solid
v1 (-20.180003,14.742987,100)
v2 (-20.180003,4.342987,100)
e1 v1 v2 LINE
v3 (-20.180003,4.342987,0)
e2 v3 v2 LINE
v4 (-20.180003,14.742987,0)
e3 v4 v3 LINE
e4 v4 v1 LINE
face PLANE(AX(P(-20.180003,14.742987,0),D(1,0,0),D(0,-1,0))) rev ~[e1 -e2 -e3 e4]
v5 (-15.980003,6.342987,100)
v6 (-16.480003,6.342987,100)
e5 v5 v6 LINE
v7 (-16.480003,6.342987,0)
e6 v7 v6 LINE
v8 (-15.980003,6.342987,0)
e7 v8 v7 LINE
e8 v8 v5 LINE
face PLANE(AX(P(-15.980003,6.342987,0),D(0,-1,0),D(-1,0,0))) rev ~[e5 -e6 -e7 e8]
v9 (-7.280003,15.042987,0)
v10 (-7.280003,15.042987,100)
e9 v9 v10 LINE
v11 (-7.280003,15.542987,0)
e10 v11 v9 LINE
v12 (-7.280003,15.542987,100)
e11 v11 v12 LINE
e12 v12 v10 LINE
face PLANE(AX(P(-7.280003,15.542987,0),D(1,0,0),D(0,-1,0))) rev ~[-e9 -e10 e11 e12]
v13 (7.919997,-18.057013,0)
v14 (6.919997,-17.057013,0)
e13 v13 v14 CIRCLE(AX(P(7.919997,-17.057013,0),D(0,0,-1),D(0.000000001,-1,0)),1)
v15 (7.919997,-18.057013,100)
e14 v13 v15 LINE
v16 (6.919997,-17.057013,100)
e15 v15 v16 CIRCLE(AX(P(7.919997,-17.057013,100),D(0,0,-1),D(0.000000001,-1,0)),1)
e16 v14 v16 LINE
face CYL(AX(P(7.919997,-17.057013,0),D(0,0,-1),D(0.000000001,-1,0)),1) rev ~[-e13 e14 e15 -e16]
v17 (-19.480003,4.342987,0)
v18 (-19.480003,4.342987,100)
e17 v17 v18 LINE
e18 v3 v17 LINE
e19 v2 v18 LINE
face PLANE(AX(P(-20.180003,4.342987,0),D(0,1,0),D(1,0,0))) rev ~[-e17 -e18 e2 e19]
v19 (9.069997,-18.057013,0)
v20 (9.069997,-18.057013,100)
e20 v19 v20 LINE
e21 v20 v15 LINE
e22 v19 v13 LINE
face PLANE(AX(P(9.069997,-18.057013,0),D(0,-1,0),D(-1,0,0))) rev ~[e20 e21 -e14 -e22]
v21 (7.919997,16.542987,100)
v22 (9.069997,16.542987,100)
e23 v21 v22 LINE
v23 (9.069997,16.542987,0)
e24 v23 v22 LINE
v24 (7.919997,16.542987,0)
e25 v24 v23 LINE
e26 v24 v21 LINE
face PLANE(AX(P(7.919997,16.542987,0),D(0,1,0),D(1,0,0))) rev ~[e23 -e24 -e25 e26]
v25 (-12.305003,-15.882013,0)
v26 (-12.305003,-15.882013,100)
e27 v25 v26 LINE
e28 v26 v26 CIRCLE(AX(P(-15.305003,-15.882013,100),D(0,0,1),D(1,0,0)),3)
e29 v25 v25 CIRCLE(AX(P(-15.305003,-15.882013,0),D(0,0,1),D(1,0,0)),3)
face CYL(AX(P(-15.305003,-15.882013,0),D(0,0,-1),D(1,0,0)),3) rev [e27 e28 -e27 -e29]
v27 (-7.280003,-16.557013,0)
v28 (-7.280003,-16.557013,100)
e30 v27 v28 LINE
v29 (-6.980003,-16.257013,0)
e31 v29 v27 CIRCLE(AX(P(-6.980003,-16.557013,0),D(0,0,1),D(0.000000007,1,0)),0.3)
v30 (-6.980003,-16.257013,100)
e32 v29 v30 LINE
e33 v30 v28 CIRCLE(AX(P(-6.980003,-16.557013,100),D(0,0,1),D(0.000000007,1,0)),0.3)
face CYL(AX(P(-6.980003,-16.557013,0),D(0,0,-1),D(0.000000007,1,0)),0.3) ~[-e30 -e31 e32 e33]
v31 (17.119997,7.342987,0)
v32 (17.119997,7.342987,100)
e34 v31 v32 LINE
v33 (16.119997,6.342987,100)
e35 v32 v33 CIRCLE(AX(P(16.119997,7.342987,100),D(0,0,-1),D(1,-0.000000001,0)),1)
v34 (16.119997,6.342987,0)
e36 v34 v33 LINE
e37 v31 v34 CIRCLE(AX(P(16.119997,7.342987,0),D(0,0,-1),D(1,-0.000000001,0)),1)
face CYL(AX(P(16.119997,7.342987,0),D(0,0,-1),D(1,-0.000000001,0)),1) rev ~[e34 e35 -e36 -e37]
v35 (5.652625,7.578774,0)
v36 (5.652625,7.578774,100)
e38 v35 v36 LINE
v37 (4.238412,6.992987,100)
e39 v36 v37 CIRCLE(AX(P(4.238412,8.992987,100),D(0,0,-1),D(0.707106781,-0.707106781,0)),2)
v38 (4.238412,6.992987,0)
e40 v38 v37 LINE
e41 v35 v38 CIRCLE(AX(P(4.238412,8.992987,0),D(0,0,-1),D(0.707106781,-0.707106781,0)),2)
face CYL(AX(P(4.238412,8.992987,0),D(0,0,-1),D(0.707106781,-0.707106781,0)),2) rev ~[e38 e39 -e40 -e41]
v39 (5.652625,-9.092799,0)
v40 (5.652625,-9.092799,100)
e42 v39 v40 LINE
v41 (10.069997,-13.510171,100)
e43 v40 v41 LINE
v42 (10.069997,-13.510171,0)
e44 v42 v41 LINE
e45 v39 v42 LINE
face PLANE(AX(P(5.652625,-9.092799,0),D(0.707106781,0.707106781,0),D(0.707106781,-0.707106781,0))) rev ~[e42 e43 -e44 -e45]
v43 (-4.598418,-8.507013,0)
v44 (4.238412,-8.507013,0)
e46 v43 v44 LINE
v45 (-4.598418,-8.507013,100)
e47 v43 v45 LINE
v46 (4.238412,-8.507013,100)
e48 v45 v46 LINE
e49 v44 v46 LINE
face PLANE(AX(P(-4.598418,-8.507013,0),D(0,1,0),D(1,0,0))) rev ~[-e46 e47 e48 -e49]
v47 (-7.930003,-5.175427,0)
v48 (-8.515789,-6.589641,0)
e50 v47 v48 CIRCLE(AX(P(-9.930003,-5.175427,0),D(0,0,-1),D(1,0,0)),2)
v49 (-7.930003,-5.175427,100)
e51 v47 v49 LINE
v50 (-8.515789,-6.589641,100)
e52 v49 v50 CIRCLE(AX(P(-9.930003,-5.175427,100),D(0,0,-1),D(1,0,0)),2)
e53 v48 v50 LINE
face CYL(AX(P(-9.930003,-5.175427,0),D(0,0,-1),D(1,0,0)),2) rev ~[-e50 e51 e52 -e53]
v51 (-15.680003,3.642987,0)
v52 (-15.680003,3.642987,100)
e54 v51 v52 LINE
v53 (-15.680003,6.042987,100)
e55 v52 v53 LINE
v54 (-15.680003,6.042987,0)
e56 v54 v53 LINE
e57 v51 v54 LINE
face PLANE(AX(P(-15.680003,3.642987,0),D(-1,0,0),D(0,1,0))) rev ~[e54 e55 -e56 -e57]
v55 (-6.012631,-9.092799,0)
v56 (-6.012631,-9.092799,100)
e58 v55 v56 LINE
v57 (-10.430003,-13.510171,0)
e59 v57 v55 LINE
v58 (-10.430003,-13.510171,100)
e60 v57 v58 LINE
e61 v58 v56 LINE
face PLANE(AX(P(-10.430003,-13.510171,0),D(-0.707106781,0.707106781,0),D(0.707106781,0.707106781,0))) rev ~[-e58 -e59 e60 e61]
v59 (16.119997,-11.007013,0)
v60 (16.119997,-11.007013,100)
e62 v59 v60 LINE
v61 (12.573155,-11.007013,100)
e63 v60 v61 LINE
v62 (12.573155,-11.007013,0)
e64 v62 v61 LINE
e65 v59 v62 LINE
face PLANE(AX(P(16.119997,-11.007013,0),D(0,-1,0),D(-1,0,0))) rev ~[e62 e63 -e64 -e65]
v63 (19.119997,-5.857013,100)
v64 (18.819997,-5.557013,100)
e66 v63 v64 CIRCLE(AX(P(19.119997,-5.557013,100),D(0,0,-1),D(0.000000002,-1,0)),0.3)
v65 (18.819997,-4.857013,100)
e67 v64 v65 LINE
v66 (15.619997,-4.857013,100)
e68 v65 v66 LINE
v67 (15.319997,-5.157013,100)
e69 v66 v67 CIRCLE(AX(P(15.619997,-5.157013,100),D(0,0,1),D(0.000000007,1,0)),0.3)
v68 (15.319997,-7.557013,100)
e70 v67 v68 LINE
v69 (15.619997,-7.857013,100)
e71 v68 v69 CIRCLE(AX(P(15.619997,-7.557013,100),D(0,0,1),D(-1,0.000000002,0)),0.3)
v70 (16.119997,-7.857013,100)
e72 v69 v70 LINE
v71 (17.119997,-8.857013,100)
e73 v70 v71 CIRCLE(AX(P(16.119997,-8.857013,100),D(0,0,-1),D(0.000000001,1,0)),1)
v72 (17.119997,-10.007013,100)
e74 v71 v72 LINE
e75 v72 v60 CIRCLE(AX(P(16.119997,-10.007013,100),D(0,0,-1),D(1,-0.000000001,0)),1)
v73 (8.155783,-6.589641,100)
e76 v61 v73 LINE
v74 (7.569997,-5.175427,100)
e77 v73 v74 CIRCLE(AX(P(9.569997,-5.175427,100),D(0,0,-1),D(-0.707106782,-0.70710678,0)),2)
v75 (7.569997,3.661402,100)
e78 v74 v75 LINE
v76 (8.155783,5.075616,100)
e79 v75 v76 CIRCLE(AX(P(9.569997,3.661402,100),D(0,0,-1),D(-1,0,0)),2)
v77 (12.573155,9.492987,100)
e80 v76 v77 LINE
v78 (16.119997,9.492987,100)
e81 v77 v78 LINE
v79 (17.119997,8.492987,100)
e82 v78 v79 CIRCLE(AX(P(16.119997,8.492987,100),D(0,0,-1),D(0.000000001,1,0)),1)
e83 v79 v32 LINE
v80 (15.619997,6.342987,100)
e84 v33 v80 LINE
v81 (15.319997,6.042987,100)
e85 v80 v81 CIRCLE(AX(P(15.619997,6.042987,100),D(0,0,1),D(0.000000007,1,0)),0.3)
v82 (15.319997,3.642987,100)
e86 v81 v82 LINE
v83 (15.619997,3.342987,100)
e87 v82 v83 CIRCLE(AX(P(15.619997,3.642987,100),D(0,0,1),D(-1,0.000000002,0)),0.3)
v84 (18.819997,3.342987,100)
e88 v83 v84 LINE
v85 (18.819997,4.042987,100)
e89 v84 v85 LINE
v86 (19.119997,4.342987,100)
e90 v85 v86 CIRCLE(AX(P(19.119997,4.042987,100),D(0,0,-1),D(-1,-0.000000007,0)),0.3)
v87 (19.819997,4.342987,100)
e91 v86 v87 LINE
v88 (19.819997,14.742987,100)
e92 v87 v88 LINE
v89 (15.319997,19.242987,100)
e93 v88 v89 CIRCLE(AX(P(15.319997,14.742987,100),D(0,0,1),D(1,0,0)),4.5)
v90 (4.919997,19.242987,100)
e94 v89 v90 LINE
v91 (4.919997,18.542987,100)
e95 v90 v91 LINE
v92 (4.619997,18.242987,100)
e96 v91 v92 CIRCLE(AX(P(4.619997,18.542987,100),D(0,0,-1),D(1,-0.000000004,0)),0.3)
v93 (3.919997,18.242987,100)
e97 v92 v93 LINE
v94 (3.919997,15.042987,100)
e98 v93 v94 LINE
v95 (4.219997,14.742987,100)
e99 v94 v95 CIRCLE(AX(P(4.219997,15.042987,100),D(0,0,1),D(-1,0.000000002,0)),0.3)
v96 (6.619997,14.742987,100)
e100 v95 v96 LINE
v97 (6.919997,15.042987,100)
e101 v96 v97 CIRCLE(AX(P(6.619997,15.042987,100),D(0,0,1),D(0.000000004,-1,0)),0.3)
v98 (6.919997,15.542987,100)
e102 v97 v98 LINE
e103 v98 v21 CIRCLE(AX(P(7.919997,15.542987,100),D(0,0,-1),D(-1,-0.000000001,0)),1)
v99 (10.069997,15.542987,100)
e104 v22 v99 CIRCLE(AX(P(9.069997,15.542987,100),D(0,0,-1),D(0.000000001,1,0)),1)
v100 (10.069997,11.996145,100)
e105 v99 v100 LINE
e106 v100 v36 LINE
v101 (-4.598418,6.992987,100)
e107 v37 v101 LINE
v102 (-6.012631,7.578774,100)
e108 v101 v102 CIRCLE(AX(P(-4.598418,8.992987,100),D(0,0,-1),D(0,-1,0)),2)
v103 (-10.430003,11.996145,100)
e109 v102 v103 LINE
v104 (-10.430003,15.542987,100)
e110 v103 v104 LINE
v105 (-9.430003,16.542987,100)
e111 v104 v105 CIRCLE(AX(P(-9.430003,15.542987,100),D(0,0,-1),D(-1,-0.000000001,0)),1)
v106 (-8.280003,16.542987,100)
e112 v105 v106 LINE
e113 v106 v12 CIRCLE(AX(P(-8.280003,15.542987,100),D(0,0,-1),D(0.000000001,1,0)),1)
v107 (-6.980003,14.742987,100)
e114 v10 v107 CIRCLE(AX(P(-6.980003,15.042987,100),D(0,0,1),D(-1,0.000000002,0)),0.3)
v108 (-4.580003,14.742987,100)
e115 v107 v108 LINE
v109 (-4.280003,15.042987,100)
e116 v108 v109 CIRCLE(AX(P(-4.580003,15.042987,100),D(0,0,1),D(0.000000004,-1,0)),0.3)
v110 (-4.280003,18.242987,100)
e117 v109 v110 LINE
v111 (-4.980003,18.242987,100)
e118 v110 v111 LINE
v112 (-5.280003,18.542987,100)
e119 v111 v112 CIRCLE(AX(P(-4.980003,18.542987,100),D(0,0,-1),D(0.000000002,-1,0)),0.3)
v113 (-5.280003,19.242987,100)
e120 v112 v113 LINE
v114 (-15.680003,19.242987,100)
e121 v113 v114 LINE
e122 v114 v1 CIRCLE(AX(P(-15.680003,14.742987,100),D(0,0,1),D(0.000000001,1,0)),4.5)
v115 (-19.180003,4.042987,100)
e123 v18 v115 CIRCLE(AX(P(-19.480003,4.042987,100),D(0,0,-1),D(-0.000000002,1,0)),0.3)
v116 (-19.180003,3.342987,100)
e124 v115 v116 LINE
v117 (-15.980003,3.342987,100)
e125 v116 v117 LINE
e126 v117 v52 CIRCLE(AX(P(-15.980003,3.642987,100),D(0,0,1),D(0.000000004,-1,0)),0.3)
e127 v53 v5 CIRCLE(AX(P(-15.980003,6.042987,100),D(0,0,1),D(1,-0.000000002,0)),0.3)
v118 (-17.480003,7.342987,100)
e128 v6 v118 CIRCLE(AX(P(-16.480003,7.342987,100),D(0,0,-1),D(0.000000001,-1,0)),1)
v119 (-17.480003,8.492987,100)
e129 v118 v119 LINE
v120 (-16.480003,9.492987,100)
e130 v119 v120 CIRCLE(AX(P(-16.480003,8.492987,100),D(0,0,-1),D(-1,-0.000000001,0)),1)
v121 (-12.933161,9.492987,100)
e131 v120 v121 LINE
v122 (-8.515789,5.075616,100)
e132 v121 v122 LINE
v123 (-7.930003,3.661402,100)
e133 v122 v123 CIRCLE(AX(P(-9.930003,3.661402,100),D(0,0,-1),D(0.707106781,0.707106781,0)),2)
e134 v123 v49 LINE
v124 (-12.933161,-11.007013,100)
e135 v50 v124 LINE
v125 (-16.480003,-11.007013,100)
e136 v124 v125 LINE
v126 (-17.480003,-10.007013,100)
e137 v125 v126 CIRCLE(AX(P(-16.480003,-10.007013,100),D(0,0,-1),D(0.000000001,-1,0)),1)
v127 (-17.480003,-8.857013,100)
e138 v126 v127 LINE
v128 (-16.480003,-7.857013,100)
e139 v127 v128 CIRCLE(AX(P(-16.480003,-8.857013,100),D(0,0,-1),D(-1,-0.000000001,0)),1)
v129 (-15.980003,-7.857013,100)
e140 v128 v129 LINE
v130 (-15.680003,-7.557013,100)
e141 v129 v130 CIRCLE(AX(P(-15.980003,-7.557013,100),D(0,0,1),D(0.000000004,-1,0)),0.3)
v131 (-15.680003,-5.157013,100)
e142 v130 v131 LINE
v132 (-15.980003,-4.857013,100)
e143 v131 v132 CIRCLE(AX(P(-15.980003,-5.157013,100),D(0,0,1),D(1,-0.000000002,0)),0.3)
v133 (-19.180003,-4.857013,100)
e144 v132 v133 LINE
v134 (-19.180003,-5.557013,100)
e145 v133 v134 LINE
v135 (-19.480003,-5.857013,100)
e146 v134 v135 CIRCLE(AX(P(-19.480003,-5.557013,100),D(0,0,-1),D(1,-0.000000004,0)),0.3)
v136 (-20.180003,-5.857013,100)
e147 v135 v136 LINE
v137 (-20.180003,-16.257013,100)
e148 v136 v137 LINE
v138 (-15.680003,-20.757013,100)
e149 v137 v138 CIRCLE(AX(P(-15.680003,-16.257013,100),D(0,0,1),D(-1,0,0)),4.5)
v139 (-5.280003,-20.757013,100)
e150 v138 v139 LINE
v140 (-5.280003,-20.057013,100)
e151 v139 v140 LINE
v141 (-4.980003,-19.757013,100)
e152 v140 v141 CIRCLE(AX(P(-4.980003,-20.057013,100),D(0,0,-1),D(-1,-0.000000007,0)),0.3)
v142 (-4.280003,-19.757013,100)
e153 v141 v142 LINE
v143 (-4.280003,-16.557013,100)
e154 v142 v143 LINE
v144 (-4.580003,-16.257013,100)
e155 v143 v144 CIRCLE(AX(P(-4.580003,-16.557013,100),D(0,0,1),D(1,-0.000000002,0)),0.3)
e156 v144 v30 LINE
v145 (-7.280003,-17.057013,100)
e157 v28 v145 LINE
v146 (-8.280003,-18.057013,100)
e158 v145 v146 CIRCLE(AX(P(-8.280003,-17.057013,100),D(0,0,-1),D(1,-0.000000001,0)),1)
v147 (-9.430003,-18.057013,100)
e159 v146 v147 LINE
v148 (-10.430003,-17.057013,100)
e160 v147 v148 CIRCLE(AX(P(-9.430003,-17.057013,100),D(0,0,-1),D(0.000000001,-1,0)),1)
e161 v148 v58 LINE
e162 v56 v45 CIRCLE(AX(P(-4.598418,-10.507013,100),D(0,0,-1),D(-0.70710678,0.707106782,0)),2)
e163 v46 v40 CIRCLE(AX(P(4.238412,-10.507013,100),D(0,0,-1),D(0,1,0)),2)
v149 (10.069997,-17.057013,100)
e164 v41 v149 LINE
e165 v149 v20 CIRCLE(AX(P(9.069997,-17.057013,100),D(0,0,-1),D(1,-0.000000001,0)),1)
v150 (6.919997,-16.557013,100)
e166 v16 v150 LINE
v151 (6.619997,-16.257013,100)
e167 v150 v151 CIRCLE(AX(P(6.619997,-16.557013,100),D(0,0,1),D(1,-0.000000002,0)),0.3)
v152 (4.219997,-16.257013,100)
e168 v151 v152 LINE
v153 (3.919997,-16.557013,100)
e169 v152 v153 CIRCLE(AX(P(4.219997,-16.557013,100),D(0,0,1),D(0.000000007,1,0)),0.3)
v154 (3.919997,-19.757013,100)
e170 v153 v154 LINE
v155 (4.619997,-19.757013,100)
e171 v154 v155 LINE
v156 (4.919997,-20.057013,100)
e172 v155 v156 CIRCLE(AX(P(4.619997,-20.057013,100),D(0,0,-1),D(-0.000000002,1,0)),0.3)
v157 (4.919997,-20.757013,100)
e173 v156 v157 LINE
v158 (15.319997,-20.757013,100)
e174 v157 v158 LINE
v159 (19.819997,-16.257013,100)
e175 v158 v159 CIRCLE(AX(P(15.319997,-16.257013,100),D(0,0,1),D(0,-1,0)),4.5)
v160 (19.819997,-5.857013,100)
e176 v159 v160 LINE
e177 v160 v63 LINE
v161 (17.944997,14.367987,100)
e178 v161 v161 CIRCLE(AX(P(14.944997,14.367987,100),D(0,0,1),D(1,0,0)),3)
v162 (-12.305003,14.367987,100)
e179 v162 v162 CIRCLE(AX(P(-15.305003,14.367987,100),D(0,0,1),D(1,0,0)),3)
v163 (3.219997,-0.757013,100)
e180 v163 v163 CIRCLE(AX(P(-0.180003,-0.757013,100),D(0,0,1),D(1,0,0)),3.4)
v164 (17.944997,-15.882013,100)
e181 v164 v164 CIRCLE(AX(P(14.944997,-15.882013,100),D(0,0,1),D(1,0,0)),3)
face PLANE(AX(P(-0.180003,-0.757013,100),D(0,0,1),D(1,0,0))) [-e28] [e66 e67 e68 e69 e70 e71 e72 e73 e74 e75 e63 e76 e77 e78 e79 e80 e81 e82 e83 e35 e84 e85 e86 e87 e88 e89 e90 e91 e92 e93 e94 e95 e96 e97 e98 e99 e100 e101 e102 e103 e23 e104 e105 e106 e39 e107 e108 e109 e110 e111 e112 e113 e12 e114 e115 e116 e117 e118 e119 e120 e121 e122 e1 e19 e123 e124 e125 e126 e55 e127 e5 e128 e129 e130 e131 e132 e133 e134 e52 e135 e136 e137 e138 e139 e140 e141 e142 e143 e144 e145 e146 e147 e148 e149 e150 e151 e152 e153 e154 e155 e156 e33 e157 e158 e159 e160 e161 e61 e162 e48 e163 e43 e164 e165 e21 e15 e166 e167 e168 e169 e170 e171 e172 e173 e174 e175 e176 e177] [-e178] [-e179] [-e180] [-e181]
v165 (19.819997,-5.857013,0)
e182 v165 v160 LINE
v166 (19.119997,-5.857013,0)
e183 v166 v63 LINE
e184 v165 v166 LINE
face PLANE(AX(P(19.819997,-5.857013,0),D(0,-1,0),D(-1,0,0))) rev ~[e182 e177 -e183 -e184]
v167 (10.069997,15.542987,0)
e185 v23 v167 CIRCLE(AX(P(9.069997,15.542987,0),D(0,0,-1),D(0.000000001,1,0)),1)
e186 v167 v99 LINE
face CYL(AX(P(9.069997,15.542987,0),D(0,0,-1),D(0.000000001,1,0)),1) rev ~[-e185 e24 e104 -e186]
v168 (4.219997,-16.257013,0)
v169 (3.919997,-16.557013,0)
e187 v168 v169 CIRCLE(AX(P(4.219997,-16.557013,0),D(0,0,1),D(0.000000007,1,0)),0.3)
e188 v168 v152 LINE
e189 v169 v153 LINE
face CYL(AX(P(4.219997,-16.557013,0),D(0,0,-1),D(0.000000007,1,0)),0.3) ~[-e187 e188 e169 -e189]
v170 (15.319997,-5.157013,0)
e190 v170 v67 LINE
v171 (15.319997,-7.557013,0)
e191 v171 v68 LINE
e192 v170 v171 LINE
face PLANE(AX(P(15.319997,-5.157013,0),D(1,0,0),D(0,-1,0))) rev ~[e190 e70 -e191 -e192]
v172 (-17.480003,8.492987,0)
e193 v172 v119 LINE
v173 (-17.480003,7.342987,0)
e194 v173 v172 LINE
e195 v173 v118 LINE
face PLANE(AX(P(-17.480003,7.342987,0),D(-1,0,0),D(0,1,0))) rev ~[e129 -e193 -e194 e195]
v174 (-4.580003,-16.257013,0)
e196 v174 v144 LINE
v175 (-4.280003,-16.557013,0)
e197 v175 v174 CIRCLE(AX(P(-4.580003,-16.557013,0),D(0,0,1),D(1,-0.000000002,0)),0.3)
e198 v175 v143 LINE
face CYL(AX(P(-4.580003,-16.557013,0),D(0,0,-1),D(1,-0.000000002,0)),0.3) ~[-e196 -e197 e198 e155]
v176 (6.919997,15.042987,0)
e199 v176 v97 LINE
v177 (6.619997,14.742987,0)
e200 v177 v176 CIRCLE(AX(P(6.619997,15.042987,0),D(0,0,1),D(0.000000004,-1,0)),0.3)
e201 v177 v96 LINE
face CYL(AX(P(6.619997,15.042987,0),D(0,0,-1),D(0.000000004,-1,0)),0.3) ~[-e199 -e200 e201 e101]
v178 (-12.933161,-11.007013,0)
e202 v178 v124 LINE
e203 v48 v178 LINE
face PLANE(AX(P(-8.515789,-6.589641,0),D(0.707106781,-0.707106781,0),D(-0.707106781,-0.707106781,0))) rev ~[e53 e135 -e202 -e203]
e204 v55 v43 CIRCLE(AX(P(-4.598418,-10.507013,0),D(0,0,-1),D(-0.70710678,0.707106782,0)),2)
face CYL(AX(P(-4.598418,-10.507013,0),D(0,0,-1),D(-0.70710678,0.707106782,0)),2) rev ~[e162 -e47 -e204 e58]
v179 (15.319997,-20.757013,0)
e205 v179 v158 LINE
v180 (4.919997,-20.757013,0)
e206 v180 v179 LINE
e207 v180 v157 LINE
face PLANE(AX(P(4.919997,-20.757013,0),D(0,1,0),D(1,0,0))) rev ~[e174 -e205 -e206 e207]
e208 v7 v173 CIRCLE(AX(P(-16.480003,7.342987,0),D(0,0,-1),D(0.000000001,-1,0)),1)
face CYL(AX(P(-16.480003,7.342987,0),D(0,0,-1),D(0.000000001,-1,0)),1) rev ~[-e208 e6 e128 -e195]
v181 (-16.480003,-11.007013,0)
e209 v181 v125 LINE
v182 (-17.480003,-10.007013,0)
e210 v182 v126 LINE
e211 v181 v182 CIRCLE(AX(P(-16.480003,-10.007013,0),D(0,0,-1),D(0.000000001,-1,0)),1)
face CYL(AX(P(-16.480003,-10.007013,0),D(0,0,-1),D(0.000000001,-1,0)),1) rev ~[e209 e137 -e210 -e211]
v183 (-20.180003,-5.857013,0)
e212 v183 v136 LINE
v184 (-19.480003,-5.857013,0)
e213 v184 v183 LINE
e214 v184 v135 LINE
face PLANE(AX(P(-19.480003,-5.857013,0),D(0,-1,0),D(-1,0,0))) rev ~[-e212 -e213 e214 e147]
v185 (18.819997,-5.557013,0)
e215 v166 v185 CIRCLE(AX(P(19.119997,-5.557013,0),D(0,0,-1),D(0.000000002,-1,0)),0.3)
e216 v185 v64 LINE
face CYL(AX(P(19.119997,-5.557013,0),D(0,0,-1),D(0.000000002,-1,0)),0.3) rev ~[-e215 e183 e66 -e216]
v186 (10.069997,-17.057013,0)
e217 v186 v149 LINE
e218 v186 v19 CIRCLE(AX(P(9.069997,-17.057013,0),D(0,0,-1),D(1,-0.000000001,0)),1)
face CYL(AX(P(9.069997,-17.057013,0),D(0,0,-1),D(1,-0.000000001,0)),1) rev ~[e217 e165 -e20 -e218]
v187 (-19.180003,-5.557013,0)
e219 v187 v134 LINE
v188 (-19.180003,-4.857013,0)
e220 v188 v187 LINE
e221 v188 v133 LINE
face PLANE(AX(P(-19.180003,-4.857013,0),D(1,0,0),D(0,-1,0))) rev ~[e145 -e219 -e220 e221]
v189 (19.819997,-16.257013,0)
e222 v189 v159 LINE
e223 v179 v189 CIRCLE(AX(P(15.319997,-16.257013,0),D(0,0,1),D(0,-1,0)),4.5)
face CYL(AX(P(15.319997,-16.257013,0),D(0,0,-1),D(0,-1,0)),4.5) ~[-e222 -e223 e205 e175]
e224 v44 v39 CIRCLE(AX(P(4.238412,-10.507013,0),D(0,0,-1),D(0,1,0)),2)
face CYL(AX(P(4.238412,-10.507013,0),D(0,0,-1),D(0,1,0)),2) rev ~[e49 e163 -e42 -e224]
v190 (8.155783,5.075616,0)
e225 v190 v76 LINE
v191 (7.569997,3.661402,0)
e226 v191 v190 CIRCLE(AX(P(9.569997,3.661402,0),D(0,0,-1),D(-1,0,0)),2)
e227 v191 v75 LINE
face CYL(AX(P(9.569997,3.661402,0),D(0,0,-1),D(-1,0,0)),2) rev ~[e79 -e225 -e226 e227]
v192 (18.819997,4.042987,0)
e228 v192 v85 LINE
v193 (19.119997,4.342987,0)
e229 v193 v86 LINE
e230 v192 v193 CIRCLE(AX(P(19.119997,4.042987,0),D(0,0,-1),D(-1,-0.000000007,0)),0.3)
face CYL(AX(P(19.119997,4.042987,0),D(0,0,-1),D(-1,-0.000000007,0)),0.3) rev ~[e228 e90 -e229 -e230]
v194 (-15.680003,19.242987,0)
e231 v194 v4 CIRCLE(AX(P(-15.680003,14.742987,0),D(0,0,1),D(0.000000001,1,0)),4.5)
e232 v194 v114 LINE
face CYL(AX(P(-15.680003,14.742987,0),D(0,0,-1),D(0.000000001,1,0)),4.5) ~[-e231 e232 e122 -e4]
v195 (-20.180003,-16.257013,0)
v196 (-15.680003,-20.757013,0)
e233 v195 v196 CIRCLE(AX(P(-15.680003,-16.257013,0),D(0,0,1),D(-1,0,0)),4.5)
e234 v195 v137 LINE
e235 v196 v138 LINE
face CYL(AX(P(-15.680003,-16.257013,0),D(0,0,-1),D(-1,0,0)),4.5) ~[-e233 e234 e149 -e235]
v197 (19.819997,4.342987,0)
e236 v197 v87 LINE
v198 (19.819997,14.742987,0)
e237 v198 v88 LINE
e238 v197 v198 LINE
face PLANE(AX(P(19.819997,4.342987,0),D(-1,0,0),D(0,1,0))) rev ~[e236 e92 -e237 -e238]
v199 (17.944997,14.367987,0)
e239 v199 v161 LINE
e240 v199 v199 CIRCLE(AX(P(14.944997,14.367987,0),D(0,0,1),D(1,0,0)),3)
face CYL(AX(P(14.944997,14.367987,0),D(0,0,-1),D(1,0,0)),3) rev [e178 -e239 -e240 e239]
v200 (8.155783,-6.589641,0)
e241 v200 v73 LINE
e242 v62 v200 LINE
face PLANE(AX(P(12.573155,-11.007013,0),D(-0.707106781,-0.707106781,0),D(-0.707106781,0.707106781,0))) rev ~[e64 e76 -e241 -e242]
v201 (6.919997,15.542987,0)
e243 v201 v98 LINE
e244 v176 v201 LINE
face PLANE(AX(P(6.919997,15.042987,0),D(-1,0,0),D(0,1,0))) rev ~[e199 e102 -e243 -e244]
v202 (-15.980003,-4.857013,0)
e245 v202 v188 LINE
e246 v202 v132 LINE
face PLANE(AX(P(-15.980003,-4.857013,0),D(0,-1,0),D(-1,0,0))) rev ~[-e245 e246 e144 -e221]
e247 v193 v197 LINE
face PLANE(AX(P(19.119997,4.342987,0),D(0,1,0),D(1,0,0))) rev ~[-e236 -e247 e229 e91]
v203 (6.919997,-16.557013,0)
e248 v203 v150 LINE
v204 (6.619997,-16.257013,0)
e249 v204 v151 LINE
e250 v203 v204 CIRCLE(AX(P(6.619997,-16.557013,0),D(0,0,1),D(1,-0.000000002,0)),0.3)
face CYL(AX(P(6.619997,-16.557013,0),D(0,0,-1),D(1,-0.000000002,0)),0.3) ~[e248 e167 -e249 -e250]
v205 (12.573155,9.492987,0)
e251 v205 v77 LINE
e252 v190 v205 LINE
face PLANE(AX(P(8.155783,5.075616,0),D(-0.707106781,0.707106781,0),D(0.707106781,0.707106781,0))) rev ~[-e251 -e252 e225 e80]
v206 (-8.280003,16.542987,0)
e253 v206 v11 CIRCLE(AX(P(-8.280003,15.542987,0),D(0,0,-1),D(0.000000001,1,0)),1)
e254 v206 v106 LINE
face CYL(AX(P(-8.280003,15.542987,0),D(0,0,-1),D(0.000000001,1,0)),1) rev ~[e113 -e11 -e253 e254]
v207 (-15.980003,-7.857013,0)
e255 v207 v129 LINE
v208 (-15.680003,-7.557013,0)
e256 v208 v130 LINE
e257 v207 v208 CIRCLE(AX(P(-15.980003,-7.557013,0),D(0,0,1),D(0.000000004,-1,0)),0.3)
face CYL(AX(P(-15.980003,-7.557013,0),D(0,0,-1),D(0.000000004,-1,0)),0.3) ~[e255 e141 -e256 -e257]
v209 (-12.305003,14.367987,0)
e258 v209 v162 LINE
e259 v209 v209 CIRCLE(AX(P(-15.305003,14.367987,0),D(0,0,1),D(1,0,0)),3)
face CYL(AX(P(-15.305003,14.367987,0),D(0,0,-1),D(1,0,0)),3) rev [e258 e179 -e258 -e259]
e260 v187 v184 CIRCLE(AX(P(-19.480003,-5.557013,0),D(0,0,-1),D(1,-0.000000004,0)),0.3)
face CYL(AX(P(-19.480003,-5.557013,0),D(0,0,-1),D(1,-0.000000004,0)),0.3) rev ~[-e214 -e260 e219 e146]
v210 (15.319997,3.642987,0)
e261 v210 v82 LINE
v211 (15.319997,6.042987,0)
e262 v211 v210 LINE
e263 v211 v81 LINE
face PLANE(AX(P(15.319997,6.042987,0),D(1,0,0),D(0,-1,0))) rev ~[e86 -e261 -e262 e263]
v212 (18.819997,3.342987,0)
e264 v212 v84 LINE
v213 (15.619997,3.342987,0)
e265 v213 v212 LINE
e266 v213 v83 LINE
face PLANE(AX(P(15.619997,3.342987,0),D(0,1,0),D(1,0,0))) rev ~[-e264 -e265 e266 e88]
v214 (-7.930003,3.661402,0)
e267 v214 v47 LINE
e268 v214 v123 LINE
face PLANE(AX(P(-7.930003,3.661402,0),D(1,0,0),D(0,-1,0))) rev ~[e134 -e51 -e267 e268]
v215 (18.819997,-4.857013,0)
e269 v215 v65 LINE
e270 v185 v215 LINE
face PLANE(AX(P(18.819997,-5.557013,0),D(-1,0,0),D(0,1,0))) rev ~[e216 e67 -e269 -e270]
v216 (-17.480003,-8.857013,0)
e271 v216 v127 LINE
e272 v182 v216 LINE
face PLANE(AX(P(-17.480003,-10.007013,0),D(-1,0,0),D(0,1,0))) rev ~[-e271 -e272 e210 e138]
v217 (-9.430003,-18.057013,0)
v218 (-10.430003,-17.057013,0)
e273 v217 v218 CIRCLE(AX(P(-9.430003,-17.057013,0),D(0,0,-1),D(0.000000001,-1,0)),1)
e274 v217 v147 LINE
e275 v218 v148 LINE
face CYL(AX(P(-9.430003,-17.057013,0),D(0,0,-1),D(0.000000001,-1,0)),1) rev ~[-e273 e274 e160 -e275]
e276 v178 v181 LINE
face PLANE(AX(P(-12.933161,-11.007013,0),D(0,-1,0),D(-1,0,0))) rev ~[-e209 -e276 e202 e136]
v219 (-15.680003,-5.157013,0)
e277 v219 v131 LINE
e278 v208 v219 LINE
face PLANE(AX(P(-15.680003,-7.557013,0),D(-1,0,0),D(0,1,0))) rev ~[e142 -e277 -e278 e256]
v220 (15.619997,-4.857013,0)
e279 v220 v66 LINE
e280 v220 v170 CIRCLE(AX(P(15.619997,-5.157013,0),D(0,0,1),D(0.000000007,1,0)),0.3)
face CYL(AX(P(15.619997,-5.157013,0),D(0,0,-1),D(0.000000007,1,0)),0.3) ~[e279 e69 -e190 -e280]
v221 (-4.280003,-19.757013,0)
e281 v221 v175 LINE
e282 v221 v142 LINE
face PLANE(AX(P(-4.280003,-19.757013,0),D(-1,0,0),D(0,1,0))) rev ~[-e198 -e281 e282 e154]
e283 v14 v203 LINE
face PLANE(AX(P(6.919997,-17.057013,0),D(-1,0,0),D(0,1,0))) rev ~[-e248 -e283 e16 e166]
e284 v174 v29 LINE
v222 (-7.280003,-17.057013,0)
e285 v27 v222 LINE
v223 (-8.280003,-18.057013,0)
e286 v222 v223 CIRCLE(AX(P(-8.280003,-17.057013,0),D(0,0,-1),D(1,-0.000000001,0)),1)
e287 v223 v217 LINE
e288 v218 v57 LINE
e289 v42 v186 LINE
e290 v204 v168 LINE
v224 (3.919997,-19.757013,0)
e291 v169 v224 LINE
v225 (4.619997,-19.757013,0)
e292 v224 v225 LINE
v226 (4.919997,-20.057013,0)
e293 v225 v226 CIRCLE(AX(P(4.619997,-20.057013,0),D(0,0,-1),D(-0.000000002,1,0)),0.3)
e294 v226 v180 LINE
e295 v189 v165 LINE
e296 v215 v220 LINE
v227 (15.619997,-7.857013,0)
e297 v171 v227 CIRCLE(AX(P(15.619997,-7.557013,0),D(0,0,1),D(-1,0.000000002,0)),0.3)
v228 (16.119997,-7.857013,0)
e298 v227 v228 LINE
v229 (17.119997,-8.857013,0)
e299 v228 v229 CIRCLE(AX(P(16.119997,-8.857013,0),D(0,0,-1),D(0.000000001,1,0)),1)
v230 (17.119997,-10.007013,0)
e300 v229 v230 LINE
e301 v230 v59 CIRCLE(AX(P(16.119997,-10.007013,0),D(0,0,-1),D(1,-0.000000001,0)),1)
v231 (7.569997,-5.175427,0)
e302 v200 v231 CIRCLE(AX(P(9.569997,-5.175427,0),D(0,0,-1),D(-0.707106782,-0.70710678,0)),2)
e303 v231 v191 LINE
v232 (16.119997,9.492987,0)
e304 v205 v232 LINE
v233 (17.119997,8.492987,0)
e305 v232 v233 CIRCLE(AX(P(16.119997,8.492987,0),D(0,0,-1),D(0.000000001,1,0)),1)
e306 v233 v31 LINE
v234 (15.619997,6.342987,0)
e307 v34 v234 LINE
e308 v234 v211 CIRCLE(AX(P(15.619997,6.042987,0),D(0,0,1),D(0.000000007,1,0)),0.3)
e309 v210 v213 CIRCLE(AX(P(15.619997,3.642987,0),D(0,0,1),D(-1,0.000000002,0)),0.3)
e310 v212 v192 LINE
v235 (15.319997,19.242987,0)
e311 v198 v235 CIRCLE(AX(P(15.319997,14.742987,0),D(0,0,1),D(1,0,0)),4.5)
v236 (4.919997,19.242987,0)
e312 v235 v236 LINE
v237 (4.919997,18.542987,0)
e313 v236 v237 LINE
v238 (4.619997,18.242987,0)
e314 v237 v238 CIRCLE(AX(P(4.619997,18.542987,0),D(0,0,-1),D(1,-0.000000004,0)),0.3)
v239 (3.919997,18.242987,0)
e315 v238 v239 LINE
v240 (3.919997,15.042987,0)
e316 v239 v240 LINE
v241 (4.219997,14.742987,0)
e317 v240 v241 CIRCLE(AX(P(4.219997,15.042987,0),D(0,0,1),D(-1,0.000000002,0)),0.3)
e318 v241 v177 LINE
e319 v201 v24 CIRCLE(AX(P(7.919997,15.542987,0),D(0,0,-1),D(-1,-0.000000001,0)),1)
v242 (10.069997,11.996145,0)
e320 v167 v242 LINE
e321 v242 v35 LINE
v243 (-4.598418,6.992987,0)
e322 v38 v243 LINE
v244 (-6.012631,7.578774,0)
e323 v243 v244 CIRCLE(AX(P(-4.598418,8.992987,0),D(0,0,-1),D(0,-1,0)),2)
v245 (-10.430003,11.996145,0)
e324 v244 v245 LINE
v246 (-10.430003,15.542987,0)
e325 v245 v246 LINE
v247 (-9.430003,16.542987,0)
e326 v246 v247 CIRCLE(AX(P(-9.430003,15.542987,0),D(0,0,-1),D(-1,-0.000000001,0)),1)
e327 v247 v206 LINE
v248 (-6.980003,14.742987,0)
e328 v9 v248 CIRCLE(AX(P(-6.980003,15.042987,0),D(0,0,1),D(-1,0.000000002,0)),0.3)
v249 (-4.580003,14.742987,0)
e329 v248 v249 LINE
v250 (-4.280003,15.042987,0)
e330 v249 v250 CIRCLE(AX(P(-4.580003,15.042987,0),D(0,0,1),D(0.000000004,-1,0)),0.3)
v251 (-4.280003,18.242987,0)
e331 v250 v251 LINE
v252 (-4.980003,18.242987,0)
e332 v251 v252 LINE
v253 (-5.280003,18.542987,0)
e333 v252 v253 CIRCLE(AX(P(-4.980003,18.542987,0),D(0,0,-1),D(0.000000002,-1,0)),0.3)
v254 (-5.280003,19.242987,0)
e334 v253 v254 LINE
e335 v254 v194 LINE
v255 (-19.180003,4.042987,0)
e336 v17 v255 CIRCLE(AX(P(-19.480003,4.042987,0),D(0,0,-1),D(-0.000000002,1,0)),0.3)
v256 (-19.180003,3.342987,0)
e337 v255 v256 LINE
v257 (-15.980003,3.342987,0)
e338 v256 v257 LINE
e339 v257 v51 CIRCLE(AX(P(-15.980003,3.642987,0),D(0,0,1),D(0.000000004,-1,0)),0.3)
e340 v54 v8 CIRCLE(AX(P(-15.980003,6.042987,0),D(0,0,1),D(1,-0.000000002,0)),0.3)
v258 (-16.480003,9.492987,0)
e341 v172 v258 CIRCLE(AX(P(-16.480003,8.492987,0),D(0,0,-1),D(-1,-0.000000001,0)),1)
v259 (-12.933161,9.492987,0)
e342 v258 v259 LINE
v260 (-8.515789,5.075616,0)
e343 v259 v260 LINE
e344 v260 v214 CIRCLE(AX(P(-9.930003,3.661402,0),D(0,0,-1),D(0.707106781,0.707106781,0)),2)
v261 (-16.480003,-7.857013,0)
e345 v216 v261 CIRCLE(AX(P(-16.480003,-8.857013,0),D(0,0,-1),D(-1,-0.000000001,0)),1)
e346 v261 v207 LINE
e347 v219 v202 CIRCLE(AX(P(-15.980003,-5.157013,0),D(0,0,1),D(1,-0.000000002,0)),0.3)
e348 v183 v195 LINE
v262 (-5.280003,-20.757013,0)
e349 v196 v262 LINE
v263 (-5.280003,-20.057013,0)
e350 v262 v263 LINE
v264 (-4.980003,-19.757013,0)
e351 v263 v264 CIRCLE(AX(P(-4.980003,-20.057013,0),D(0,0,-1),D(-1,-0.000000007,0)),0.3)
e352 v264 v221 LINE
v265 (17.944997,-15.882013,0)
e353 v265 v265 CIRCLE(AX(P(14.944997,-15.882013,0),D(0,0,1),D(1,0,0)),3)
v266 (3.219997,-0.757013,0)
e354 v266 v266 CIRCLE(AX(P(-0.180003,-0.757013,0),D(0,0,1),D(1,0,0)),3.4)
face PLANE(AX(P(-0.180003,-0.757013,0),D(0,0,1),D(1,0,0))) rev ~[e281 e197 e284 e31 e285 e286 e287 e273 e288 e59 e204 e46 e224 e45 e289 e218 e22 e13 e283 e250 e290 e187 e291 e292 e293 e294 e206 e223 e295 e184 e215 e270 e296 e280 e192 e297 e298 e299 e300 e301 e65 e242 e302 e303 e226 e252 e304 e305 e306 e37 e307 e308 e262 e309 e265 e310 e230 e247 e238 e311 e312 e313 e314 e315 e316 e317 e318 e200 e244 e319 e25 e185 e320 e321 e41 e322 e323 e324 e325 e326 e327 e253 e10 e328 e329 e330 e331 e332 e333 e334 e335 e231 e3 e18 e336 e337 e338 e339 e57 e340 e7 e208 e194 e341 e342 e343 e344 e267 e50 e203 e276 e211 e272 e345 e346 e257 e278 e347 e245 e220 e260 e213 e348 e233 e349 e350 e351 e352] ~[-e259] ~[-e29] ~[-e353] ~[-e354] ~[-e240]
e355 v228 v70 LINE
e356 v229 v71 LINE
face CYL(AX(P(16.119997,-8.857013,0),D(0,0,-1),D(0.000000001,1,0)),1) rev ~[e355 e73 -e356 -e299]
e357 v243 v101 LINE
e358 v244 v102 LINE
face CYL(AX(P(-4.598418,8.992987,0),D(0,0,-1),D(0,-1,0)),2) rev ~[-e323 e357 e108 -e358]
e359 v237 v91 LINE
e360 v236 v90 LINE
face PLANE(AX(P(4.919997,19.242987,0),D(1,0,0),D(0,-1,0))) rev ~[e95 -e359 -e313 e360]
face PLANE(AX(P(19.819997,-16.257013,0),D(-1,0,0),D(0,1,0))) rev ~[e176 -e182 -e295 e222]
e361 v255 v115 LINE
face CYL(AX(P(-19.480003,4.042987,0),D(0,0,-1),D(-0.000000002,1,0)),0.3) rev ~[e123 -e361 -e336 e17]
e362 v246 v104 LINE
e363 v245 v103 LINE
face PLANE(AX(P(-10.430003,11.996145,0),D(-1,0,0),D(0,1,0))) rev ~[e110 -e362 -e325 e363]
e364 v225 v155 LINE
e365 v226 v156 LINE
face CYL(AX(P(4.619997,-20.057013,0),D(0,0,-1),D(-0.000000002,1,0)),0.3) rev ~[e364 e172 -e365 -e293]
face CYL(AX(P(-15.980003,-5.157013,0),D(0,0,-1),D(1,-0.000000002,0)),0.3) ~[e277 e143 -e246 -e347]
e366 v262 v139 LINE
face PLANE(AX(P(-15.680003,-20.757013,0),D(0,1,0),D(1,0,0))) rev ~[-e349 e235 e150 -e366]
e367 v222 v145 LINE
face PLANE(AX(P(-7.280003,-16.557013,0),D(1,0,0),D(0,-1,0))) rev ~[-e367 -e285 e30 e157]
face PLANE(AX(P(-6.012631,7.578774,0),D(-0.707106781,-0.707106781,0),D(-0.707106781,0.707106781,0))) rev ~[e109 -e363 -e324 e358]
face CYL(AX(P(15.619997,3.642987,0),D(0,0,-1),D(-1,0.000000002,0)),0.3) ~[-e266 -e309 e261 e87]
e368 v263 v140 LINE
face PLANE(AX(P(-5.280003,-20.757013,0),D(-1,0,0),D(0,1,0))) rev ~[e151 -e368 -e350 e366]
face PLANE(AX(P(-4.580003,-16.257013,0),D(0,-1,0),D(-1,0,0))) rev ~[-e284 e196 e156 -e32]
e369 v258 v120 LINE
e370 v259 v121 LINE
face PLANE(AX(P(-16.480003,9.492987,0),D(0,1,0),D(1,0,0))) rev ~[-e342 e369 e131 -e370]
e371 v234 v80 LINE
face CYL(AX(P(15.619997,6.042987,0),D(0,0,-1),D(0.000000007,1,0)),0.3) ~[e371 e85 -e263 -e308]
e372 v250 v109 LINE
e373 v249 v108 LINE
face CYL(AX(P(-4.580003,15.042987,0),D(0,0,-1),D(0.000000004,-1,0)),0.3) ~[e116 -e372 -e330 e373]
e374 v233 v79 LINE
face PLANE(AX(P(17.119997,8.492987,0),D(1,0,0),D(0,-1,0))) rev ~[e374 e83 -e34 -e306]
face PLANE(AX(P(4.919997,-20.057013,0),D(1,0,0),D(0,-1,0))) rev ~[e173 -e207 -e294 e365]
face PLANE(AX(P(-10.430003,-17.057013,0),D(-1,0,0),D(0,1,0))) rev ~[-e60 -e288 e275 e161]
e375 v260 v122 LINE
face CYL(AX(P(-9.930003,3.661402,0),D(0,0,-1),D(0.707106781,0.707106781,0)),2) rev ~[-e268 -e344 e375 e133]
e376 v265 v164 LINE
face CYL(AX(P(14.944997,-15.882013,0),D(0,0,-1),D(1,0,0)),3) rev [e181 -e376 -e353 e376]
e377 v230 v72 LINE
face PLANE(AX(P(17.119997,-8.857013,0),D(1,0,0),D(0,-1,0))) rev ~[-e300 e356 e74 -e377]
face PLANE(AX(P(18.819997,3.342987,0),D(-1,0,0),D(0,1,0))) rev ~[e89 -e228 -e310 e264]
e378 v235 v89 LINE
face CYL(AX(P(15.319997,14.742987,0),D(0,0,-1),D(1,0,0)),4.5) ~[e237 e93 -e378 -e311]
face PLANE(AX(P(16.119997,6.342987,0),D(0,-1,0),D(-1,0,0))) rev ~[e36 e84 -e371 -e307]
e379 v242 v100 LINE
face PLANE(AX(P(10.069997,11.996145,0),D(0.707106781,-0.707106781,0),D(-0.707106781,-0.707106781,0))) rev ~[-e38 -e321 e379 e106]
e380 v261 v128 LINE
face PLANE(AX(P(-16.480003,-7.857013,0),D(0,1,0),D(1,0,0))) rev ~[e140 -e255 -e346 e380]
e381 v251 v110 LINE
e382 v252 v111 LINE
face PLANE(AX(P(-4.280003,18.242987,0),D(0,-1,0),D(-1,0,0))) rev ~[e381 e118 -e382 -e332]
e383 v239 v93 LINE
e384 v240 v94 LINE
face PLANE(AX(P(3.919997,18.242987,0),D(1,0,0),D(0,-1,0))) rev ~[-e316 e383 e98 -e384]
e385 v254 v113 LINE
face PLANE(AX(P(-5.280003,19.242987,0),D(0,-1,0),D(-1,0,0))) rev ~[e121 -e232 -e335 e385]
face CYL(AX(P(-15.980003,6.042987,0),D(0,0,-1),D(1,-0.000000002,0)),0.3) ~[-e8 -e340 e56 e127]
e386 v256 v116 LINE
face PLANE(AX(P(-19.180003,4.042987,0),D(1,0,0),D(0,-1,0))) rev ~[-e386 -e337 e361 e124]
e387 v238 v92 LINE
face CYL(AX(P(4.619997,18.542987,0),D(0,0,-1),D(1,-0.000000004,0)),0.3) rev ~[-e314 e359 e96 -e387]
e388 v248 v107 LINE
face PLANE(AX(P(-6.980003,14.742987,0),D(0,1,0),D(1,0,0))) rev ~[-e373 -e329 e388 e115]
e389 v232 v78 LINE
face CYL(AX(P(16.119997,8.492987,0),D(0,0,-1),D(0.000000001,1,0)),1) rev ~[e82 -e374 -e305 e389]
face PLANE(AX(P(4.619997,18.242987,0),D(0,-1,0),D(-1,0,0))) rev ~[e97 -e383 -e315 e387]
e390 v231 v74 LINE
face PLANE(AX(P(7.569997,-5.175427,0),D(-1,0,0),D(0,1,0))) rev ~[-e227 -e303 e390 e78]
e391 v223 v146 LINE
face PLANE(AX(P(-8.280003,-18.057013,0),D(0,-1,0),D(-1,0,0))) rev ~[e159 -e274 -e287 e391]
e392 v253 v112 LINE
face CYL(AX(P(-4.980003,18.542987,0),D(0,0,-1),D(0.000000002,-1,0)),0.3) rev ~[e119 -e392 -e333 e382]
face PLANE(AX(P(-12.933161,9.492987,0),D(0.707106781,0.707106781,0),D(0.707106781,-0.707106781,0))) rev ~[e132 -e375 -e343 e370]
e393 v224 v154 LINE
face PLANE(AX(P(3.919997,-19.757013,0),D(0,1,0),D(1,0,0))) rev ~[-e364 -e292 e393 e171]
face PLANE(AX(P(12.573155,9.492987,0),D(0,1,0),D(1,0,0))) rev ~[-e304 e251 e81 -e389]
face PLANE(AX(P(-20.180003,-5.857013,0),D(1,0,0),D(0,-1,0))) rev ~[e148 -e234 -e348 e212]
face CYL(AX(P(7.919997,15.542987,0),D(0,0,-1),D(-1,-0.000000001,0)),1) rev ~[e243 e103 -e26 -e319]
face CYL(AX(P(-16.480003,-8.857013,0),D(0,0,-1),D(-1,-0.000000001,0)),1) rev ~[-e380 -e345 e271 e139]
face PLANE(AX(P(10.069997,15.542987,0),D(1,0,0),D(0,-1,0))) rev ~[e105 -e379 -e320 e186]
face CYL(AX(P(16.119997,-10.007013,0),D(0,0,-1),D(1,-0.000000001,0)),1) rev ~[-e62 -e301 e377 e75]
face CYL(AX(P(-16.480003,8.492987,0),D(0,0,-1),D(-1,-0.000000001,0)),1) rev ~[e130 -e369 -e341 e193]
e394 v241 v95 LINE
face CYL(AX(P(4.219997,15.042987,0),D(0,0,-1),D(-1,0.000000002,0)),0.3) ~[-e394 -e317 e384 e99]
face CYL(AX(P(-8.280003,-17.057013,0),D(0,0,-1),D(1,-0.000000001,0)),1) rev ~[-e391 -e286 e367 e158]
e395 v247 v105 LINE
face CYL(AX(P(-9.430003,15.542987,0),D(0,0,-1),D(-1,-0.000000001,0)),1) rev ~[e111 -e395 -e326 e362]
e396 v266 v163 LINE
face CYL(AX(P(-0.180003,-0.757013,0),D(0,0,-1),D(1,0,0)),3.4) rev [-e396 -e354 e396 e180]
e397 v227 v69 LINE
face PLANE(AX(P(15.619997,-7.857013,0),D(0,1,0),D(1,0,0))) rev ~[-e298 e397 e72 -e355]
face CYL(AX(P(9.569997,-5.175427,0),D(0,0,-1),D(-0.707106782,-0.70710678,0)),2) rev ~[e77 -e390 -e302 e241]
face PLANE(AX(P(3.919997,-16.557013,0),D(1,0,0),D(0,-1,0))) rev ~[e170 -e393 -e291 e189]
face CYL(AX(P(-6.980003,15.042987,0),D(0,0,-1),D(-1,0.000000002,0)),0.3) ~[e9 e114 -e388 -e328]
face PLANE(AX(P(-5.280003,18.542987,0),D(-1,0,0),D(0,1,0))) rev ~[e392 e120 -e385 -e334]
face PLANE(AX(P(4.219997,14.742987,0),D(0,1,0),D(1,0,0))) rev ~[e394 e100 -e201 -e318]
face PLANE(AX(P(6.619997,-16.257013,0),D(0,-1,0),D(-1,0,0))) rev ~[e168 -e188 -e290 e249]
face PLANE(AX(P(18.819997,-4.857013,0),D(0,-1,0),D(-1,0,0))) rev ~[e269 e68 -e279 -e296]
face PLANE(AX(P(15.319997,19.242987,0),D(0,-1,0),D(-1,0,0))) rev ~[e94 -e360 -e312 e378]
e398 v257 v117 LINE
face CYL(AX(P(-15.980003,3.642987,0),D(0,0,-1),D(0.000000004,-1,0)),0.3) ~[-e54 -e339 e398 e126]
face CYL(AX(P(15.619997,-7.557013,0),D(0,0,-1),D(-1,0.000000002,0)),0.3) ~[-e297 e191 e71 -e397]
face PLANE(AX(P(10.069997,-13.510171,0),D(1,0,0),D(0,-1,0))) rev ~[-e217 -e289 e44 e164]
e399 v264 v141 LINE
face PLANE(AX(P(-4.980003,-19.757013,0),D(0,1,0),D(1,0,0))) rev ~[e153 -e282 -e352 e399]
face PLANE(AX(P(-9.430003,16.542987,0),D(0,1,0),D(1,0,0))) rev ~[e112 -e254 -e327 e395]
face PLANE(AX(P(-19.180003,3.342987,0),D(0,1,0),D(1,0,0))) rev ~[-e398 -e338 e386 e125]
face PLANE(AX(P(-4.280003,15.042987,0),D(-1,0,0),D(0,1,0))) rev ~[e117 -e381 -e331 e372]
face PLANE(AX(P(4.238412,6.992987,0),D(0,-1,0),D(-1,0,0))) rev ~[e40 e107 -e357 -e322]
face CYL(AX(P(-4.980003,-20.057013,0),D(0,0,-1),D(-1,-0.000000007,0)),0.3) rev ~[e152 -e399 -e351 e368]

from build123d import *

# Parameters (mm, degrees)
SKETCH_1_R      = 3.4
SKETCH_1_R_2    = 3
EXTRUDE_1_DEPTH = 100


with BuildPart() as part:
    # 草图1 → 凸台-拉伸1 (new body)
    with BuildSketch(Plane.XY):
        with BuildLine():
            Line((-5.280003001, 19.242987377), (-15.680003001, 19.242987377))
            ThreePointArc((-15.680003001, 19.242987377), (-18.861983517, 17.924967893), (-20.180003001, 14.742987377))
            Line((-20.180003001, 14.742987377), (-20.180003001, 4.342987377))
            Line((-20.180003001, 4.342987377), (-19.480003001, 4.342987377))
            ThreePointArc((-19.480003001, 4.342987377), (-19.267870967, 4.255119412), (-19.180003001, 4.042987377))
            Line((-19.180003001, 4.042987377), (-19.180003001, 3.342987377))
            Line((-19.180003001, 3.342987377), (-15.980003001, 3.342987377))
            ThreePointArc((-15.980003001, 3.342987377), (-15.767870967, 3.430855343), (-15.680003001, 3.642987377))
            Line((-15.680003001, 3.642987377), (-15.680003001, 6.042987377))
            ThreePointArc((-15.680003001, 6.042987377), (-15.767870967, 6.255119412), (-15.980003001, 6.342987377))
            Line((-15.980003001, 6.342987377), (-16.480003001, 6.342987377))
            ThreePointArc((-16.480003001, 6.342987377), (-17.187109783, 6.635880596), (-17.480003001, 7.342987377))
            Line((-17.480003001, 7.342987377), (-17.480003001, 8.492987377))
            ThreePointArc((-17.480003001, 8.492987377), (-17.187109783, 9.200094158), (-16.480003001, 9.492987377))
            Line((-16.480003001, 9.492987377), (-12.933161007, 9.492987377))
            Line((-12.933161007, 9.492987377), (-8.515789439, 5.07561581))
            ThreePointArc((-8.515789439, 5.07561581), (-8.082243936, 4.426769112), (-7.930003001, 3.661402247))
            Line((-7.930003001, 3.661402247), (-7.930003001, -5.175427493))
            ThreePointArc((-7.930003001, -5.175427493), (-8.082243936, -5.940794357), (-8.515789439, -6.589641055))
            Line((-8.515789439, -6.589641055), (-12.933161007, -11.007012623))
            Line((-12.933161007, -11.007012623), (-16.480003001, -11.007012623))
            ThreePointArc((-16.480003001, -11.007012623), (-17.187109783, -10.714119404), (-17.480003001, -10.007012623))
            Line((-17.480003001, -10.007012623), (-17.480003001, -8.857012623))
            ThreePointArc((-17.480003001, -8.857012623), (-17.187109783, -8.149905842), (-16.480003001, -7.857012623))
            Line((-16.480003001, -7.857012623), (-15.980003001, -7.857012623))
            ThreePointArc((-15.980003001, -7.857012623), (-15.767870967, -7.769144657), (-15.680003001, -7.557012623))
            Line((-15.680003001, -7.557012623), (-15.680003001, -5.157012623))
            ThreePointArc((-15.680003001, -5.157012623), (-15.767870967, -4.944880588), (-15.980003001, -4.857012623))
            Line((-15.980003001, -4.857012623), (-19.180003001, -4.857012623))
            Line((-19.180003001, -4.857012623), (-19.180003001, -5.557012623))
            ThreePointArc((-19.180003001, -5.557012623), (-19.267870967, -5.769144657), (-19.480003001, -5.857012623))
            Line((-19.480003001, -5.857012623), (-20.180003001, -5.857012623))
            Line((-20.180003001, -5.857012623), (-20.180003001, -16.257012623))
            ThreePointArc((-20.180003001, -16.257012623), (-18.861983517, -19.438993138), (-15.680003001, -20.757012623))
            Line((-15.680003001, -20.757012623), (-5.280003001, -20.757012623))
            Line((-5.280003001, -20.757012623), (-5.280003001, -20.057012623))
            ThreePointArc((-5.280003001, -20.057012623), (-5.192135036, -19.844880588), (-4.980003001, -19.757012623))
            Line((-4.980003001, -19.757012623), (-4.280003001, -19.757012623))
            Line((-4.280003001, -19.757012623), (-4.280003001, -16.557012623))
            ThreePointArc((-4.280003001, -16.557012623), (-4.367870967, -16.344880588), (-4.580003001, -16.257012623))
            Line((-4.580003001, -16.257012623), (-6.980003001, -16.257012623))
            ThreePointArc((-6.980003001, -16.257012623), (-7.192135036, -16.344880588), (-7.280003001, -16.557012623))
            Line((-7.280003001, -16.557012623), (-7.280003001, -17.057012623))
            ThreePointArc((-7.280003001, -17.057012623), (-7.57289622, -17.764119404), (-8.280003001, -18.057012623))
            Line((-8.280003001, -18.057012623), (-9.430003001, -18.057012623))
            ThreePointArc((-9.430003001, -18.057012623), (-10.137109783, -17.764119404), (-10.430003001, -17.057012623))
            Line((-10.430003001, -17.057012623), (-10.430003001, -13.510170628))
            Line((-10.430003001, -13.510170628), (-6.012631434, -9.09279906))
            ThreePointArc((-6.012631434, -9.09279906), (-5.363784736, -8.659253558), (-4.598417871, -8.507012623))
            Line((-4.598417871, -8.507012623), (4.238411868, -8.507012623))
            ThreePointArc((4.238411868, -8.507012623), (5.003778733, -8.659253558), (5.652625431, -9.09279906))
            Line((5.652625431, -9.09279906), (10.069996999, -13.510170628))
            Line((10.069996999, -13.510170628), (10.069996999, -17.057012623))
            ThreePointArc((10.069996999, -17.057012623), (9.77710378, -17.764119404), (9.069996999, -18.057012623))
            Line((9.069996999, -18.057012623), (7.919996999, -18.057012623))
            ThreePointArc((7.919996999, -18.057012623), (7.212890217, -17.764119404), (6.919996999, -17.057012623))
            Line((6.919996999, -17.057012623), (6.919996999, -16.557012623))
            ThreePointArc((6.919996999, -16.557012623), (6.832129033, -16.344880588), (6.619996999, -16.257012623))
            Line((6.619996999, -16.257012623), (4.219996999, -16.257012623))
            ThreePointArc((4.219996999, -16.257012623), (4.007864964, -16.344880588), (3.919996999, -16.557012623))
            Line((3.919996999, -16.557012623), (3.919996999, -19.757012623))
            Line((3.919996999, -19.757012623), (4.619996999, -19.757012623))
            ThreePointArc((4.619996999, -19.757012623), (4.832129033, -19.844880588), (4.919996999, -20.057012623))
            Line((4.919996999, -20.057012623), (4.919996999, -20.757012623))
            Line((4.919996999, -20.757012623), (15.319996999, -20.757012623))
            ThreePointArc((15.319996999, -20.757012623), (18.501977514, -19.438993138), (19.819996999, -16.257012623))
            Line((19.819996999, -16.257012623), (19.819996999, -5.857012623))
            Line((19.819996999, -5.857012623), (19.119996999, -5.857012623))
            ThreePointArc((19.119996999, -5.857012623), (18.907864964, -5.769144657), (18.819996999, -5.557012623))
            Line((18.819996999, -5.557012623), (18.819996999, -4.857012623))
            Line((18.819996999, -4.857012623), (15.619996999, -4.857012623))
            ThreePointArc((15.619996999, -4.857012623), (15.407864964, -4.944880588), (15.319996999, -5.157012623))
            Line((15.319996999, -5.157012623), (15.319996999, -7.557012623))
            ThreePointArc((15.319996999, -7.557012623), (15.407864964, -7.769144657), (15.619996999, -7.857012623))
            Line((15.619996999, -7.857012623), (16.119996999, -7.857012623))
            ThreePointArc((16.119996999, -7.857012623), (16.82710378, -8.149905842), (17.119996999, -8.857012623))
            Line((17.119996999, -8.857012623), (17.119996999, -10.007012623))
            ThreePointArc((17.119996999, -10.007012623), (16.82710378, -10.714119404), (16.119996999, -11.007012623))
            Line((16.119996999, -11.007012623), (12.573155004, -11.007012623))
            Line((12.573155004, -11.007012623), (8.155783436, -6.589641055))
            ThreePointArc((8.155783436, -6.589641055), (7.722237934, -5.940794357), (7.569996999, -5.175427493))
            Line((7.569996999, -5.175427493), (7.569996999, 3.661402247))
            ThreePointArc((7.569996999, 3.661402247), (7.722237934, 4.426769112), (8.155783436, 5.07561581))
            Line((8.155783436, 5.07561581), (12.573155004, 9.492987377))
            Line((12.573155004, 9.492987377), (16.119996999, 9.492987377))
            ThreePointArc((16.119996999, 9.492987377), (16.82710378, 9.200094158), (17.119996999, 8.492987377))
            Line((17.119996999, 8.492987377), (17.119996999, 7.342987377))
            ThreePointArc((17.119996999, 7.342987377), (16.82710378, 6.635880596), (16.119996999, 6.342987377))
            Line((16.119996999, 6.342987377), (15.619996999, 6.342987377))
            ThreePointArc((15.619996999, 6.342987377), (15.407864964, 6.255119412), (15.319996999, 6.042987377))
            Line((15.319996999, 6.042987377), (15.319996999, 3.642987377))
            ThreePointArc((15.319996999, 3.642987377), (15.407864964, 3.430855343), (15.619996999, 3.342987377))
            Line((15.619996999, 3.342987377), (18.819996999, 3.342987377))
            Line((18.819996999, 3.342987377), (18.819996999, 4.042987377))
            ThreePointArc((18.819996999, 4.042987377), (18.907864964, 4.255119412), (19.119996999, 4.342987377))
            Line((19.119996999, 4.342987377), (19.819996999, 4.342987377))
            Line((19.819996999, 4.342987377), (19.819996999, 14.742987377))
            ThreePointArc((19.819996999, 14.742987377), (18.501977514, 17.924967893), (15.319996999, 19.242987377))
            Line((15.319996999, 19.242987377), (4.919996999, 19.242987377))
            Line((4.919996999, 19.242987377), (4.919996999, 18.542987377))
            ThreePointArc((4.919996999, 18.542987377), (4.832129033, 18.330855343), (4.619996999, 18.242987377))
            Line((4.619996999, 18.242987377), (3.919996999, 18.242987377))
            Line((3.919996999, 18.242987377), (3.919996999, 15.042987377))
            ThreePointArc((3.919996999, 15.042987377), (4.007864964, 14.830855343), (4.219996999, 14.742987377))
            Line((4.219996999, 14.742987377), (6.619996999, 14.742987377))
            ThreePointArc((6.619996999, 14.742987377), (6.832129033, 14.830855343), (6.919996999, 15.042987377))
            Line((6.919996999, 15.042987377), (6.919996999, 15.542987377))
            ThreePointArc((6.919996999, 15.542987377), (7.212890217, 16.250094158), (7.919996999, 16.542987377))
            Line((7.919996999, 16.542987377), (9.069996999, 16.542987377))
            ThreePointArc((9.069996999, 16.542987377), (9.77710378, 16.250094158), (10.069996999, 15.542987377))
            Line((10.069996999, 15.542987377), (10.069996999, 11.996145383))
            Line((10.069996999, 11.996145383), (5.652625431, 7.578773815))
            ThreePointArc((5.652625431, 7.578773815), (5.003778733, 7.145228312), (4.238411868, 6.992987377))
            Line((4.238411868, 6.992987377), (-4.598417871, 6.992987377))
            ThreePointArc((-4.598417871, 6.992987377), (-5.363784736, 7.145228312), (-6.012631434, 7.578773815))
            Line((-6.012631434, 7.578773815), (-10.430003001, 11.996145383))
            Line((-10.430003001, 11.996145383), (-10.430003001, 15.542987377))
            ThreePointArc((-10.430003001, 15.542987377), (-10.137109783, 16.250094158), (-9.430003001, 16.542987377))
            Line((-9.430003001, 16.542987377), (-8.280003001, 16.542987377))
            ThreePointArc((-8.280003001, 16.542987377), (-7.57289622, 16.250094158), (-7.280003001, 15.542987377))
            Line((-7.280003001, 15.542987377), (-7.280003001, 15.042987377))
            ThreePointArc((-7.280003001, 15.042987377), (-7.192135036, 14.830855343), (-6.980003001, 14.742987377))
            Line((-6.980003001, 14.742987377), (-4.580003001, 14.742987377))
            ThreePointArc((-4.580003001, 14.742987377), (-4.367870967, 14.830855343), (-4.280003001, 15.042987377))
            Line((-4.280003001, 15.042987377), (-4.280003001, 18.242987377))
            Line((-4.280003001, 18.242987377), (-4.980003001, 18.242987377))
            ThreePointArc((-4.980003001, 18.242987377), (-5.192135036, 18.330855343), (-5.280003001, 18.542987377))
            Line((-5.280003001, 18.542987377), (-5.280003001, 19.242987377))
        make_face()
        with Locations((-0.180003001, -0.757012623)):
            Circle(SKETCH_1_R, mode=Mode.SUBTRACT)
        with Locations((-15.305003001, 14.367987377)):
            Circle(SKETCH_1_R_2, mode=Mode.SUBTRACT)
        with Locations((14.944996999, 14.367987377)):
            Circle(SKETCH_1_R_2, mode=Mode.SUBTRACT)
        with Locations((-15.305003001, -15.882012623)):
            Circle(SKETCH_1_R_2, mode=Mode.SUBTRACT)
        with Locations((14.944996999, -15.882012623)):
            Circle(SKETCH_1_R_2, mode=Mode.SUBTRACT)
    extrude(amount=EXTRUDE_1_DEPTH)


solid = part.part
